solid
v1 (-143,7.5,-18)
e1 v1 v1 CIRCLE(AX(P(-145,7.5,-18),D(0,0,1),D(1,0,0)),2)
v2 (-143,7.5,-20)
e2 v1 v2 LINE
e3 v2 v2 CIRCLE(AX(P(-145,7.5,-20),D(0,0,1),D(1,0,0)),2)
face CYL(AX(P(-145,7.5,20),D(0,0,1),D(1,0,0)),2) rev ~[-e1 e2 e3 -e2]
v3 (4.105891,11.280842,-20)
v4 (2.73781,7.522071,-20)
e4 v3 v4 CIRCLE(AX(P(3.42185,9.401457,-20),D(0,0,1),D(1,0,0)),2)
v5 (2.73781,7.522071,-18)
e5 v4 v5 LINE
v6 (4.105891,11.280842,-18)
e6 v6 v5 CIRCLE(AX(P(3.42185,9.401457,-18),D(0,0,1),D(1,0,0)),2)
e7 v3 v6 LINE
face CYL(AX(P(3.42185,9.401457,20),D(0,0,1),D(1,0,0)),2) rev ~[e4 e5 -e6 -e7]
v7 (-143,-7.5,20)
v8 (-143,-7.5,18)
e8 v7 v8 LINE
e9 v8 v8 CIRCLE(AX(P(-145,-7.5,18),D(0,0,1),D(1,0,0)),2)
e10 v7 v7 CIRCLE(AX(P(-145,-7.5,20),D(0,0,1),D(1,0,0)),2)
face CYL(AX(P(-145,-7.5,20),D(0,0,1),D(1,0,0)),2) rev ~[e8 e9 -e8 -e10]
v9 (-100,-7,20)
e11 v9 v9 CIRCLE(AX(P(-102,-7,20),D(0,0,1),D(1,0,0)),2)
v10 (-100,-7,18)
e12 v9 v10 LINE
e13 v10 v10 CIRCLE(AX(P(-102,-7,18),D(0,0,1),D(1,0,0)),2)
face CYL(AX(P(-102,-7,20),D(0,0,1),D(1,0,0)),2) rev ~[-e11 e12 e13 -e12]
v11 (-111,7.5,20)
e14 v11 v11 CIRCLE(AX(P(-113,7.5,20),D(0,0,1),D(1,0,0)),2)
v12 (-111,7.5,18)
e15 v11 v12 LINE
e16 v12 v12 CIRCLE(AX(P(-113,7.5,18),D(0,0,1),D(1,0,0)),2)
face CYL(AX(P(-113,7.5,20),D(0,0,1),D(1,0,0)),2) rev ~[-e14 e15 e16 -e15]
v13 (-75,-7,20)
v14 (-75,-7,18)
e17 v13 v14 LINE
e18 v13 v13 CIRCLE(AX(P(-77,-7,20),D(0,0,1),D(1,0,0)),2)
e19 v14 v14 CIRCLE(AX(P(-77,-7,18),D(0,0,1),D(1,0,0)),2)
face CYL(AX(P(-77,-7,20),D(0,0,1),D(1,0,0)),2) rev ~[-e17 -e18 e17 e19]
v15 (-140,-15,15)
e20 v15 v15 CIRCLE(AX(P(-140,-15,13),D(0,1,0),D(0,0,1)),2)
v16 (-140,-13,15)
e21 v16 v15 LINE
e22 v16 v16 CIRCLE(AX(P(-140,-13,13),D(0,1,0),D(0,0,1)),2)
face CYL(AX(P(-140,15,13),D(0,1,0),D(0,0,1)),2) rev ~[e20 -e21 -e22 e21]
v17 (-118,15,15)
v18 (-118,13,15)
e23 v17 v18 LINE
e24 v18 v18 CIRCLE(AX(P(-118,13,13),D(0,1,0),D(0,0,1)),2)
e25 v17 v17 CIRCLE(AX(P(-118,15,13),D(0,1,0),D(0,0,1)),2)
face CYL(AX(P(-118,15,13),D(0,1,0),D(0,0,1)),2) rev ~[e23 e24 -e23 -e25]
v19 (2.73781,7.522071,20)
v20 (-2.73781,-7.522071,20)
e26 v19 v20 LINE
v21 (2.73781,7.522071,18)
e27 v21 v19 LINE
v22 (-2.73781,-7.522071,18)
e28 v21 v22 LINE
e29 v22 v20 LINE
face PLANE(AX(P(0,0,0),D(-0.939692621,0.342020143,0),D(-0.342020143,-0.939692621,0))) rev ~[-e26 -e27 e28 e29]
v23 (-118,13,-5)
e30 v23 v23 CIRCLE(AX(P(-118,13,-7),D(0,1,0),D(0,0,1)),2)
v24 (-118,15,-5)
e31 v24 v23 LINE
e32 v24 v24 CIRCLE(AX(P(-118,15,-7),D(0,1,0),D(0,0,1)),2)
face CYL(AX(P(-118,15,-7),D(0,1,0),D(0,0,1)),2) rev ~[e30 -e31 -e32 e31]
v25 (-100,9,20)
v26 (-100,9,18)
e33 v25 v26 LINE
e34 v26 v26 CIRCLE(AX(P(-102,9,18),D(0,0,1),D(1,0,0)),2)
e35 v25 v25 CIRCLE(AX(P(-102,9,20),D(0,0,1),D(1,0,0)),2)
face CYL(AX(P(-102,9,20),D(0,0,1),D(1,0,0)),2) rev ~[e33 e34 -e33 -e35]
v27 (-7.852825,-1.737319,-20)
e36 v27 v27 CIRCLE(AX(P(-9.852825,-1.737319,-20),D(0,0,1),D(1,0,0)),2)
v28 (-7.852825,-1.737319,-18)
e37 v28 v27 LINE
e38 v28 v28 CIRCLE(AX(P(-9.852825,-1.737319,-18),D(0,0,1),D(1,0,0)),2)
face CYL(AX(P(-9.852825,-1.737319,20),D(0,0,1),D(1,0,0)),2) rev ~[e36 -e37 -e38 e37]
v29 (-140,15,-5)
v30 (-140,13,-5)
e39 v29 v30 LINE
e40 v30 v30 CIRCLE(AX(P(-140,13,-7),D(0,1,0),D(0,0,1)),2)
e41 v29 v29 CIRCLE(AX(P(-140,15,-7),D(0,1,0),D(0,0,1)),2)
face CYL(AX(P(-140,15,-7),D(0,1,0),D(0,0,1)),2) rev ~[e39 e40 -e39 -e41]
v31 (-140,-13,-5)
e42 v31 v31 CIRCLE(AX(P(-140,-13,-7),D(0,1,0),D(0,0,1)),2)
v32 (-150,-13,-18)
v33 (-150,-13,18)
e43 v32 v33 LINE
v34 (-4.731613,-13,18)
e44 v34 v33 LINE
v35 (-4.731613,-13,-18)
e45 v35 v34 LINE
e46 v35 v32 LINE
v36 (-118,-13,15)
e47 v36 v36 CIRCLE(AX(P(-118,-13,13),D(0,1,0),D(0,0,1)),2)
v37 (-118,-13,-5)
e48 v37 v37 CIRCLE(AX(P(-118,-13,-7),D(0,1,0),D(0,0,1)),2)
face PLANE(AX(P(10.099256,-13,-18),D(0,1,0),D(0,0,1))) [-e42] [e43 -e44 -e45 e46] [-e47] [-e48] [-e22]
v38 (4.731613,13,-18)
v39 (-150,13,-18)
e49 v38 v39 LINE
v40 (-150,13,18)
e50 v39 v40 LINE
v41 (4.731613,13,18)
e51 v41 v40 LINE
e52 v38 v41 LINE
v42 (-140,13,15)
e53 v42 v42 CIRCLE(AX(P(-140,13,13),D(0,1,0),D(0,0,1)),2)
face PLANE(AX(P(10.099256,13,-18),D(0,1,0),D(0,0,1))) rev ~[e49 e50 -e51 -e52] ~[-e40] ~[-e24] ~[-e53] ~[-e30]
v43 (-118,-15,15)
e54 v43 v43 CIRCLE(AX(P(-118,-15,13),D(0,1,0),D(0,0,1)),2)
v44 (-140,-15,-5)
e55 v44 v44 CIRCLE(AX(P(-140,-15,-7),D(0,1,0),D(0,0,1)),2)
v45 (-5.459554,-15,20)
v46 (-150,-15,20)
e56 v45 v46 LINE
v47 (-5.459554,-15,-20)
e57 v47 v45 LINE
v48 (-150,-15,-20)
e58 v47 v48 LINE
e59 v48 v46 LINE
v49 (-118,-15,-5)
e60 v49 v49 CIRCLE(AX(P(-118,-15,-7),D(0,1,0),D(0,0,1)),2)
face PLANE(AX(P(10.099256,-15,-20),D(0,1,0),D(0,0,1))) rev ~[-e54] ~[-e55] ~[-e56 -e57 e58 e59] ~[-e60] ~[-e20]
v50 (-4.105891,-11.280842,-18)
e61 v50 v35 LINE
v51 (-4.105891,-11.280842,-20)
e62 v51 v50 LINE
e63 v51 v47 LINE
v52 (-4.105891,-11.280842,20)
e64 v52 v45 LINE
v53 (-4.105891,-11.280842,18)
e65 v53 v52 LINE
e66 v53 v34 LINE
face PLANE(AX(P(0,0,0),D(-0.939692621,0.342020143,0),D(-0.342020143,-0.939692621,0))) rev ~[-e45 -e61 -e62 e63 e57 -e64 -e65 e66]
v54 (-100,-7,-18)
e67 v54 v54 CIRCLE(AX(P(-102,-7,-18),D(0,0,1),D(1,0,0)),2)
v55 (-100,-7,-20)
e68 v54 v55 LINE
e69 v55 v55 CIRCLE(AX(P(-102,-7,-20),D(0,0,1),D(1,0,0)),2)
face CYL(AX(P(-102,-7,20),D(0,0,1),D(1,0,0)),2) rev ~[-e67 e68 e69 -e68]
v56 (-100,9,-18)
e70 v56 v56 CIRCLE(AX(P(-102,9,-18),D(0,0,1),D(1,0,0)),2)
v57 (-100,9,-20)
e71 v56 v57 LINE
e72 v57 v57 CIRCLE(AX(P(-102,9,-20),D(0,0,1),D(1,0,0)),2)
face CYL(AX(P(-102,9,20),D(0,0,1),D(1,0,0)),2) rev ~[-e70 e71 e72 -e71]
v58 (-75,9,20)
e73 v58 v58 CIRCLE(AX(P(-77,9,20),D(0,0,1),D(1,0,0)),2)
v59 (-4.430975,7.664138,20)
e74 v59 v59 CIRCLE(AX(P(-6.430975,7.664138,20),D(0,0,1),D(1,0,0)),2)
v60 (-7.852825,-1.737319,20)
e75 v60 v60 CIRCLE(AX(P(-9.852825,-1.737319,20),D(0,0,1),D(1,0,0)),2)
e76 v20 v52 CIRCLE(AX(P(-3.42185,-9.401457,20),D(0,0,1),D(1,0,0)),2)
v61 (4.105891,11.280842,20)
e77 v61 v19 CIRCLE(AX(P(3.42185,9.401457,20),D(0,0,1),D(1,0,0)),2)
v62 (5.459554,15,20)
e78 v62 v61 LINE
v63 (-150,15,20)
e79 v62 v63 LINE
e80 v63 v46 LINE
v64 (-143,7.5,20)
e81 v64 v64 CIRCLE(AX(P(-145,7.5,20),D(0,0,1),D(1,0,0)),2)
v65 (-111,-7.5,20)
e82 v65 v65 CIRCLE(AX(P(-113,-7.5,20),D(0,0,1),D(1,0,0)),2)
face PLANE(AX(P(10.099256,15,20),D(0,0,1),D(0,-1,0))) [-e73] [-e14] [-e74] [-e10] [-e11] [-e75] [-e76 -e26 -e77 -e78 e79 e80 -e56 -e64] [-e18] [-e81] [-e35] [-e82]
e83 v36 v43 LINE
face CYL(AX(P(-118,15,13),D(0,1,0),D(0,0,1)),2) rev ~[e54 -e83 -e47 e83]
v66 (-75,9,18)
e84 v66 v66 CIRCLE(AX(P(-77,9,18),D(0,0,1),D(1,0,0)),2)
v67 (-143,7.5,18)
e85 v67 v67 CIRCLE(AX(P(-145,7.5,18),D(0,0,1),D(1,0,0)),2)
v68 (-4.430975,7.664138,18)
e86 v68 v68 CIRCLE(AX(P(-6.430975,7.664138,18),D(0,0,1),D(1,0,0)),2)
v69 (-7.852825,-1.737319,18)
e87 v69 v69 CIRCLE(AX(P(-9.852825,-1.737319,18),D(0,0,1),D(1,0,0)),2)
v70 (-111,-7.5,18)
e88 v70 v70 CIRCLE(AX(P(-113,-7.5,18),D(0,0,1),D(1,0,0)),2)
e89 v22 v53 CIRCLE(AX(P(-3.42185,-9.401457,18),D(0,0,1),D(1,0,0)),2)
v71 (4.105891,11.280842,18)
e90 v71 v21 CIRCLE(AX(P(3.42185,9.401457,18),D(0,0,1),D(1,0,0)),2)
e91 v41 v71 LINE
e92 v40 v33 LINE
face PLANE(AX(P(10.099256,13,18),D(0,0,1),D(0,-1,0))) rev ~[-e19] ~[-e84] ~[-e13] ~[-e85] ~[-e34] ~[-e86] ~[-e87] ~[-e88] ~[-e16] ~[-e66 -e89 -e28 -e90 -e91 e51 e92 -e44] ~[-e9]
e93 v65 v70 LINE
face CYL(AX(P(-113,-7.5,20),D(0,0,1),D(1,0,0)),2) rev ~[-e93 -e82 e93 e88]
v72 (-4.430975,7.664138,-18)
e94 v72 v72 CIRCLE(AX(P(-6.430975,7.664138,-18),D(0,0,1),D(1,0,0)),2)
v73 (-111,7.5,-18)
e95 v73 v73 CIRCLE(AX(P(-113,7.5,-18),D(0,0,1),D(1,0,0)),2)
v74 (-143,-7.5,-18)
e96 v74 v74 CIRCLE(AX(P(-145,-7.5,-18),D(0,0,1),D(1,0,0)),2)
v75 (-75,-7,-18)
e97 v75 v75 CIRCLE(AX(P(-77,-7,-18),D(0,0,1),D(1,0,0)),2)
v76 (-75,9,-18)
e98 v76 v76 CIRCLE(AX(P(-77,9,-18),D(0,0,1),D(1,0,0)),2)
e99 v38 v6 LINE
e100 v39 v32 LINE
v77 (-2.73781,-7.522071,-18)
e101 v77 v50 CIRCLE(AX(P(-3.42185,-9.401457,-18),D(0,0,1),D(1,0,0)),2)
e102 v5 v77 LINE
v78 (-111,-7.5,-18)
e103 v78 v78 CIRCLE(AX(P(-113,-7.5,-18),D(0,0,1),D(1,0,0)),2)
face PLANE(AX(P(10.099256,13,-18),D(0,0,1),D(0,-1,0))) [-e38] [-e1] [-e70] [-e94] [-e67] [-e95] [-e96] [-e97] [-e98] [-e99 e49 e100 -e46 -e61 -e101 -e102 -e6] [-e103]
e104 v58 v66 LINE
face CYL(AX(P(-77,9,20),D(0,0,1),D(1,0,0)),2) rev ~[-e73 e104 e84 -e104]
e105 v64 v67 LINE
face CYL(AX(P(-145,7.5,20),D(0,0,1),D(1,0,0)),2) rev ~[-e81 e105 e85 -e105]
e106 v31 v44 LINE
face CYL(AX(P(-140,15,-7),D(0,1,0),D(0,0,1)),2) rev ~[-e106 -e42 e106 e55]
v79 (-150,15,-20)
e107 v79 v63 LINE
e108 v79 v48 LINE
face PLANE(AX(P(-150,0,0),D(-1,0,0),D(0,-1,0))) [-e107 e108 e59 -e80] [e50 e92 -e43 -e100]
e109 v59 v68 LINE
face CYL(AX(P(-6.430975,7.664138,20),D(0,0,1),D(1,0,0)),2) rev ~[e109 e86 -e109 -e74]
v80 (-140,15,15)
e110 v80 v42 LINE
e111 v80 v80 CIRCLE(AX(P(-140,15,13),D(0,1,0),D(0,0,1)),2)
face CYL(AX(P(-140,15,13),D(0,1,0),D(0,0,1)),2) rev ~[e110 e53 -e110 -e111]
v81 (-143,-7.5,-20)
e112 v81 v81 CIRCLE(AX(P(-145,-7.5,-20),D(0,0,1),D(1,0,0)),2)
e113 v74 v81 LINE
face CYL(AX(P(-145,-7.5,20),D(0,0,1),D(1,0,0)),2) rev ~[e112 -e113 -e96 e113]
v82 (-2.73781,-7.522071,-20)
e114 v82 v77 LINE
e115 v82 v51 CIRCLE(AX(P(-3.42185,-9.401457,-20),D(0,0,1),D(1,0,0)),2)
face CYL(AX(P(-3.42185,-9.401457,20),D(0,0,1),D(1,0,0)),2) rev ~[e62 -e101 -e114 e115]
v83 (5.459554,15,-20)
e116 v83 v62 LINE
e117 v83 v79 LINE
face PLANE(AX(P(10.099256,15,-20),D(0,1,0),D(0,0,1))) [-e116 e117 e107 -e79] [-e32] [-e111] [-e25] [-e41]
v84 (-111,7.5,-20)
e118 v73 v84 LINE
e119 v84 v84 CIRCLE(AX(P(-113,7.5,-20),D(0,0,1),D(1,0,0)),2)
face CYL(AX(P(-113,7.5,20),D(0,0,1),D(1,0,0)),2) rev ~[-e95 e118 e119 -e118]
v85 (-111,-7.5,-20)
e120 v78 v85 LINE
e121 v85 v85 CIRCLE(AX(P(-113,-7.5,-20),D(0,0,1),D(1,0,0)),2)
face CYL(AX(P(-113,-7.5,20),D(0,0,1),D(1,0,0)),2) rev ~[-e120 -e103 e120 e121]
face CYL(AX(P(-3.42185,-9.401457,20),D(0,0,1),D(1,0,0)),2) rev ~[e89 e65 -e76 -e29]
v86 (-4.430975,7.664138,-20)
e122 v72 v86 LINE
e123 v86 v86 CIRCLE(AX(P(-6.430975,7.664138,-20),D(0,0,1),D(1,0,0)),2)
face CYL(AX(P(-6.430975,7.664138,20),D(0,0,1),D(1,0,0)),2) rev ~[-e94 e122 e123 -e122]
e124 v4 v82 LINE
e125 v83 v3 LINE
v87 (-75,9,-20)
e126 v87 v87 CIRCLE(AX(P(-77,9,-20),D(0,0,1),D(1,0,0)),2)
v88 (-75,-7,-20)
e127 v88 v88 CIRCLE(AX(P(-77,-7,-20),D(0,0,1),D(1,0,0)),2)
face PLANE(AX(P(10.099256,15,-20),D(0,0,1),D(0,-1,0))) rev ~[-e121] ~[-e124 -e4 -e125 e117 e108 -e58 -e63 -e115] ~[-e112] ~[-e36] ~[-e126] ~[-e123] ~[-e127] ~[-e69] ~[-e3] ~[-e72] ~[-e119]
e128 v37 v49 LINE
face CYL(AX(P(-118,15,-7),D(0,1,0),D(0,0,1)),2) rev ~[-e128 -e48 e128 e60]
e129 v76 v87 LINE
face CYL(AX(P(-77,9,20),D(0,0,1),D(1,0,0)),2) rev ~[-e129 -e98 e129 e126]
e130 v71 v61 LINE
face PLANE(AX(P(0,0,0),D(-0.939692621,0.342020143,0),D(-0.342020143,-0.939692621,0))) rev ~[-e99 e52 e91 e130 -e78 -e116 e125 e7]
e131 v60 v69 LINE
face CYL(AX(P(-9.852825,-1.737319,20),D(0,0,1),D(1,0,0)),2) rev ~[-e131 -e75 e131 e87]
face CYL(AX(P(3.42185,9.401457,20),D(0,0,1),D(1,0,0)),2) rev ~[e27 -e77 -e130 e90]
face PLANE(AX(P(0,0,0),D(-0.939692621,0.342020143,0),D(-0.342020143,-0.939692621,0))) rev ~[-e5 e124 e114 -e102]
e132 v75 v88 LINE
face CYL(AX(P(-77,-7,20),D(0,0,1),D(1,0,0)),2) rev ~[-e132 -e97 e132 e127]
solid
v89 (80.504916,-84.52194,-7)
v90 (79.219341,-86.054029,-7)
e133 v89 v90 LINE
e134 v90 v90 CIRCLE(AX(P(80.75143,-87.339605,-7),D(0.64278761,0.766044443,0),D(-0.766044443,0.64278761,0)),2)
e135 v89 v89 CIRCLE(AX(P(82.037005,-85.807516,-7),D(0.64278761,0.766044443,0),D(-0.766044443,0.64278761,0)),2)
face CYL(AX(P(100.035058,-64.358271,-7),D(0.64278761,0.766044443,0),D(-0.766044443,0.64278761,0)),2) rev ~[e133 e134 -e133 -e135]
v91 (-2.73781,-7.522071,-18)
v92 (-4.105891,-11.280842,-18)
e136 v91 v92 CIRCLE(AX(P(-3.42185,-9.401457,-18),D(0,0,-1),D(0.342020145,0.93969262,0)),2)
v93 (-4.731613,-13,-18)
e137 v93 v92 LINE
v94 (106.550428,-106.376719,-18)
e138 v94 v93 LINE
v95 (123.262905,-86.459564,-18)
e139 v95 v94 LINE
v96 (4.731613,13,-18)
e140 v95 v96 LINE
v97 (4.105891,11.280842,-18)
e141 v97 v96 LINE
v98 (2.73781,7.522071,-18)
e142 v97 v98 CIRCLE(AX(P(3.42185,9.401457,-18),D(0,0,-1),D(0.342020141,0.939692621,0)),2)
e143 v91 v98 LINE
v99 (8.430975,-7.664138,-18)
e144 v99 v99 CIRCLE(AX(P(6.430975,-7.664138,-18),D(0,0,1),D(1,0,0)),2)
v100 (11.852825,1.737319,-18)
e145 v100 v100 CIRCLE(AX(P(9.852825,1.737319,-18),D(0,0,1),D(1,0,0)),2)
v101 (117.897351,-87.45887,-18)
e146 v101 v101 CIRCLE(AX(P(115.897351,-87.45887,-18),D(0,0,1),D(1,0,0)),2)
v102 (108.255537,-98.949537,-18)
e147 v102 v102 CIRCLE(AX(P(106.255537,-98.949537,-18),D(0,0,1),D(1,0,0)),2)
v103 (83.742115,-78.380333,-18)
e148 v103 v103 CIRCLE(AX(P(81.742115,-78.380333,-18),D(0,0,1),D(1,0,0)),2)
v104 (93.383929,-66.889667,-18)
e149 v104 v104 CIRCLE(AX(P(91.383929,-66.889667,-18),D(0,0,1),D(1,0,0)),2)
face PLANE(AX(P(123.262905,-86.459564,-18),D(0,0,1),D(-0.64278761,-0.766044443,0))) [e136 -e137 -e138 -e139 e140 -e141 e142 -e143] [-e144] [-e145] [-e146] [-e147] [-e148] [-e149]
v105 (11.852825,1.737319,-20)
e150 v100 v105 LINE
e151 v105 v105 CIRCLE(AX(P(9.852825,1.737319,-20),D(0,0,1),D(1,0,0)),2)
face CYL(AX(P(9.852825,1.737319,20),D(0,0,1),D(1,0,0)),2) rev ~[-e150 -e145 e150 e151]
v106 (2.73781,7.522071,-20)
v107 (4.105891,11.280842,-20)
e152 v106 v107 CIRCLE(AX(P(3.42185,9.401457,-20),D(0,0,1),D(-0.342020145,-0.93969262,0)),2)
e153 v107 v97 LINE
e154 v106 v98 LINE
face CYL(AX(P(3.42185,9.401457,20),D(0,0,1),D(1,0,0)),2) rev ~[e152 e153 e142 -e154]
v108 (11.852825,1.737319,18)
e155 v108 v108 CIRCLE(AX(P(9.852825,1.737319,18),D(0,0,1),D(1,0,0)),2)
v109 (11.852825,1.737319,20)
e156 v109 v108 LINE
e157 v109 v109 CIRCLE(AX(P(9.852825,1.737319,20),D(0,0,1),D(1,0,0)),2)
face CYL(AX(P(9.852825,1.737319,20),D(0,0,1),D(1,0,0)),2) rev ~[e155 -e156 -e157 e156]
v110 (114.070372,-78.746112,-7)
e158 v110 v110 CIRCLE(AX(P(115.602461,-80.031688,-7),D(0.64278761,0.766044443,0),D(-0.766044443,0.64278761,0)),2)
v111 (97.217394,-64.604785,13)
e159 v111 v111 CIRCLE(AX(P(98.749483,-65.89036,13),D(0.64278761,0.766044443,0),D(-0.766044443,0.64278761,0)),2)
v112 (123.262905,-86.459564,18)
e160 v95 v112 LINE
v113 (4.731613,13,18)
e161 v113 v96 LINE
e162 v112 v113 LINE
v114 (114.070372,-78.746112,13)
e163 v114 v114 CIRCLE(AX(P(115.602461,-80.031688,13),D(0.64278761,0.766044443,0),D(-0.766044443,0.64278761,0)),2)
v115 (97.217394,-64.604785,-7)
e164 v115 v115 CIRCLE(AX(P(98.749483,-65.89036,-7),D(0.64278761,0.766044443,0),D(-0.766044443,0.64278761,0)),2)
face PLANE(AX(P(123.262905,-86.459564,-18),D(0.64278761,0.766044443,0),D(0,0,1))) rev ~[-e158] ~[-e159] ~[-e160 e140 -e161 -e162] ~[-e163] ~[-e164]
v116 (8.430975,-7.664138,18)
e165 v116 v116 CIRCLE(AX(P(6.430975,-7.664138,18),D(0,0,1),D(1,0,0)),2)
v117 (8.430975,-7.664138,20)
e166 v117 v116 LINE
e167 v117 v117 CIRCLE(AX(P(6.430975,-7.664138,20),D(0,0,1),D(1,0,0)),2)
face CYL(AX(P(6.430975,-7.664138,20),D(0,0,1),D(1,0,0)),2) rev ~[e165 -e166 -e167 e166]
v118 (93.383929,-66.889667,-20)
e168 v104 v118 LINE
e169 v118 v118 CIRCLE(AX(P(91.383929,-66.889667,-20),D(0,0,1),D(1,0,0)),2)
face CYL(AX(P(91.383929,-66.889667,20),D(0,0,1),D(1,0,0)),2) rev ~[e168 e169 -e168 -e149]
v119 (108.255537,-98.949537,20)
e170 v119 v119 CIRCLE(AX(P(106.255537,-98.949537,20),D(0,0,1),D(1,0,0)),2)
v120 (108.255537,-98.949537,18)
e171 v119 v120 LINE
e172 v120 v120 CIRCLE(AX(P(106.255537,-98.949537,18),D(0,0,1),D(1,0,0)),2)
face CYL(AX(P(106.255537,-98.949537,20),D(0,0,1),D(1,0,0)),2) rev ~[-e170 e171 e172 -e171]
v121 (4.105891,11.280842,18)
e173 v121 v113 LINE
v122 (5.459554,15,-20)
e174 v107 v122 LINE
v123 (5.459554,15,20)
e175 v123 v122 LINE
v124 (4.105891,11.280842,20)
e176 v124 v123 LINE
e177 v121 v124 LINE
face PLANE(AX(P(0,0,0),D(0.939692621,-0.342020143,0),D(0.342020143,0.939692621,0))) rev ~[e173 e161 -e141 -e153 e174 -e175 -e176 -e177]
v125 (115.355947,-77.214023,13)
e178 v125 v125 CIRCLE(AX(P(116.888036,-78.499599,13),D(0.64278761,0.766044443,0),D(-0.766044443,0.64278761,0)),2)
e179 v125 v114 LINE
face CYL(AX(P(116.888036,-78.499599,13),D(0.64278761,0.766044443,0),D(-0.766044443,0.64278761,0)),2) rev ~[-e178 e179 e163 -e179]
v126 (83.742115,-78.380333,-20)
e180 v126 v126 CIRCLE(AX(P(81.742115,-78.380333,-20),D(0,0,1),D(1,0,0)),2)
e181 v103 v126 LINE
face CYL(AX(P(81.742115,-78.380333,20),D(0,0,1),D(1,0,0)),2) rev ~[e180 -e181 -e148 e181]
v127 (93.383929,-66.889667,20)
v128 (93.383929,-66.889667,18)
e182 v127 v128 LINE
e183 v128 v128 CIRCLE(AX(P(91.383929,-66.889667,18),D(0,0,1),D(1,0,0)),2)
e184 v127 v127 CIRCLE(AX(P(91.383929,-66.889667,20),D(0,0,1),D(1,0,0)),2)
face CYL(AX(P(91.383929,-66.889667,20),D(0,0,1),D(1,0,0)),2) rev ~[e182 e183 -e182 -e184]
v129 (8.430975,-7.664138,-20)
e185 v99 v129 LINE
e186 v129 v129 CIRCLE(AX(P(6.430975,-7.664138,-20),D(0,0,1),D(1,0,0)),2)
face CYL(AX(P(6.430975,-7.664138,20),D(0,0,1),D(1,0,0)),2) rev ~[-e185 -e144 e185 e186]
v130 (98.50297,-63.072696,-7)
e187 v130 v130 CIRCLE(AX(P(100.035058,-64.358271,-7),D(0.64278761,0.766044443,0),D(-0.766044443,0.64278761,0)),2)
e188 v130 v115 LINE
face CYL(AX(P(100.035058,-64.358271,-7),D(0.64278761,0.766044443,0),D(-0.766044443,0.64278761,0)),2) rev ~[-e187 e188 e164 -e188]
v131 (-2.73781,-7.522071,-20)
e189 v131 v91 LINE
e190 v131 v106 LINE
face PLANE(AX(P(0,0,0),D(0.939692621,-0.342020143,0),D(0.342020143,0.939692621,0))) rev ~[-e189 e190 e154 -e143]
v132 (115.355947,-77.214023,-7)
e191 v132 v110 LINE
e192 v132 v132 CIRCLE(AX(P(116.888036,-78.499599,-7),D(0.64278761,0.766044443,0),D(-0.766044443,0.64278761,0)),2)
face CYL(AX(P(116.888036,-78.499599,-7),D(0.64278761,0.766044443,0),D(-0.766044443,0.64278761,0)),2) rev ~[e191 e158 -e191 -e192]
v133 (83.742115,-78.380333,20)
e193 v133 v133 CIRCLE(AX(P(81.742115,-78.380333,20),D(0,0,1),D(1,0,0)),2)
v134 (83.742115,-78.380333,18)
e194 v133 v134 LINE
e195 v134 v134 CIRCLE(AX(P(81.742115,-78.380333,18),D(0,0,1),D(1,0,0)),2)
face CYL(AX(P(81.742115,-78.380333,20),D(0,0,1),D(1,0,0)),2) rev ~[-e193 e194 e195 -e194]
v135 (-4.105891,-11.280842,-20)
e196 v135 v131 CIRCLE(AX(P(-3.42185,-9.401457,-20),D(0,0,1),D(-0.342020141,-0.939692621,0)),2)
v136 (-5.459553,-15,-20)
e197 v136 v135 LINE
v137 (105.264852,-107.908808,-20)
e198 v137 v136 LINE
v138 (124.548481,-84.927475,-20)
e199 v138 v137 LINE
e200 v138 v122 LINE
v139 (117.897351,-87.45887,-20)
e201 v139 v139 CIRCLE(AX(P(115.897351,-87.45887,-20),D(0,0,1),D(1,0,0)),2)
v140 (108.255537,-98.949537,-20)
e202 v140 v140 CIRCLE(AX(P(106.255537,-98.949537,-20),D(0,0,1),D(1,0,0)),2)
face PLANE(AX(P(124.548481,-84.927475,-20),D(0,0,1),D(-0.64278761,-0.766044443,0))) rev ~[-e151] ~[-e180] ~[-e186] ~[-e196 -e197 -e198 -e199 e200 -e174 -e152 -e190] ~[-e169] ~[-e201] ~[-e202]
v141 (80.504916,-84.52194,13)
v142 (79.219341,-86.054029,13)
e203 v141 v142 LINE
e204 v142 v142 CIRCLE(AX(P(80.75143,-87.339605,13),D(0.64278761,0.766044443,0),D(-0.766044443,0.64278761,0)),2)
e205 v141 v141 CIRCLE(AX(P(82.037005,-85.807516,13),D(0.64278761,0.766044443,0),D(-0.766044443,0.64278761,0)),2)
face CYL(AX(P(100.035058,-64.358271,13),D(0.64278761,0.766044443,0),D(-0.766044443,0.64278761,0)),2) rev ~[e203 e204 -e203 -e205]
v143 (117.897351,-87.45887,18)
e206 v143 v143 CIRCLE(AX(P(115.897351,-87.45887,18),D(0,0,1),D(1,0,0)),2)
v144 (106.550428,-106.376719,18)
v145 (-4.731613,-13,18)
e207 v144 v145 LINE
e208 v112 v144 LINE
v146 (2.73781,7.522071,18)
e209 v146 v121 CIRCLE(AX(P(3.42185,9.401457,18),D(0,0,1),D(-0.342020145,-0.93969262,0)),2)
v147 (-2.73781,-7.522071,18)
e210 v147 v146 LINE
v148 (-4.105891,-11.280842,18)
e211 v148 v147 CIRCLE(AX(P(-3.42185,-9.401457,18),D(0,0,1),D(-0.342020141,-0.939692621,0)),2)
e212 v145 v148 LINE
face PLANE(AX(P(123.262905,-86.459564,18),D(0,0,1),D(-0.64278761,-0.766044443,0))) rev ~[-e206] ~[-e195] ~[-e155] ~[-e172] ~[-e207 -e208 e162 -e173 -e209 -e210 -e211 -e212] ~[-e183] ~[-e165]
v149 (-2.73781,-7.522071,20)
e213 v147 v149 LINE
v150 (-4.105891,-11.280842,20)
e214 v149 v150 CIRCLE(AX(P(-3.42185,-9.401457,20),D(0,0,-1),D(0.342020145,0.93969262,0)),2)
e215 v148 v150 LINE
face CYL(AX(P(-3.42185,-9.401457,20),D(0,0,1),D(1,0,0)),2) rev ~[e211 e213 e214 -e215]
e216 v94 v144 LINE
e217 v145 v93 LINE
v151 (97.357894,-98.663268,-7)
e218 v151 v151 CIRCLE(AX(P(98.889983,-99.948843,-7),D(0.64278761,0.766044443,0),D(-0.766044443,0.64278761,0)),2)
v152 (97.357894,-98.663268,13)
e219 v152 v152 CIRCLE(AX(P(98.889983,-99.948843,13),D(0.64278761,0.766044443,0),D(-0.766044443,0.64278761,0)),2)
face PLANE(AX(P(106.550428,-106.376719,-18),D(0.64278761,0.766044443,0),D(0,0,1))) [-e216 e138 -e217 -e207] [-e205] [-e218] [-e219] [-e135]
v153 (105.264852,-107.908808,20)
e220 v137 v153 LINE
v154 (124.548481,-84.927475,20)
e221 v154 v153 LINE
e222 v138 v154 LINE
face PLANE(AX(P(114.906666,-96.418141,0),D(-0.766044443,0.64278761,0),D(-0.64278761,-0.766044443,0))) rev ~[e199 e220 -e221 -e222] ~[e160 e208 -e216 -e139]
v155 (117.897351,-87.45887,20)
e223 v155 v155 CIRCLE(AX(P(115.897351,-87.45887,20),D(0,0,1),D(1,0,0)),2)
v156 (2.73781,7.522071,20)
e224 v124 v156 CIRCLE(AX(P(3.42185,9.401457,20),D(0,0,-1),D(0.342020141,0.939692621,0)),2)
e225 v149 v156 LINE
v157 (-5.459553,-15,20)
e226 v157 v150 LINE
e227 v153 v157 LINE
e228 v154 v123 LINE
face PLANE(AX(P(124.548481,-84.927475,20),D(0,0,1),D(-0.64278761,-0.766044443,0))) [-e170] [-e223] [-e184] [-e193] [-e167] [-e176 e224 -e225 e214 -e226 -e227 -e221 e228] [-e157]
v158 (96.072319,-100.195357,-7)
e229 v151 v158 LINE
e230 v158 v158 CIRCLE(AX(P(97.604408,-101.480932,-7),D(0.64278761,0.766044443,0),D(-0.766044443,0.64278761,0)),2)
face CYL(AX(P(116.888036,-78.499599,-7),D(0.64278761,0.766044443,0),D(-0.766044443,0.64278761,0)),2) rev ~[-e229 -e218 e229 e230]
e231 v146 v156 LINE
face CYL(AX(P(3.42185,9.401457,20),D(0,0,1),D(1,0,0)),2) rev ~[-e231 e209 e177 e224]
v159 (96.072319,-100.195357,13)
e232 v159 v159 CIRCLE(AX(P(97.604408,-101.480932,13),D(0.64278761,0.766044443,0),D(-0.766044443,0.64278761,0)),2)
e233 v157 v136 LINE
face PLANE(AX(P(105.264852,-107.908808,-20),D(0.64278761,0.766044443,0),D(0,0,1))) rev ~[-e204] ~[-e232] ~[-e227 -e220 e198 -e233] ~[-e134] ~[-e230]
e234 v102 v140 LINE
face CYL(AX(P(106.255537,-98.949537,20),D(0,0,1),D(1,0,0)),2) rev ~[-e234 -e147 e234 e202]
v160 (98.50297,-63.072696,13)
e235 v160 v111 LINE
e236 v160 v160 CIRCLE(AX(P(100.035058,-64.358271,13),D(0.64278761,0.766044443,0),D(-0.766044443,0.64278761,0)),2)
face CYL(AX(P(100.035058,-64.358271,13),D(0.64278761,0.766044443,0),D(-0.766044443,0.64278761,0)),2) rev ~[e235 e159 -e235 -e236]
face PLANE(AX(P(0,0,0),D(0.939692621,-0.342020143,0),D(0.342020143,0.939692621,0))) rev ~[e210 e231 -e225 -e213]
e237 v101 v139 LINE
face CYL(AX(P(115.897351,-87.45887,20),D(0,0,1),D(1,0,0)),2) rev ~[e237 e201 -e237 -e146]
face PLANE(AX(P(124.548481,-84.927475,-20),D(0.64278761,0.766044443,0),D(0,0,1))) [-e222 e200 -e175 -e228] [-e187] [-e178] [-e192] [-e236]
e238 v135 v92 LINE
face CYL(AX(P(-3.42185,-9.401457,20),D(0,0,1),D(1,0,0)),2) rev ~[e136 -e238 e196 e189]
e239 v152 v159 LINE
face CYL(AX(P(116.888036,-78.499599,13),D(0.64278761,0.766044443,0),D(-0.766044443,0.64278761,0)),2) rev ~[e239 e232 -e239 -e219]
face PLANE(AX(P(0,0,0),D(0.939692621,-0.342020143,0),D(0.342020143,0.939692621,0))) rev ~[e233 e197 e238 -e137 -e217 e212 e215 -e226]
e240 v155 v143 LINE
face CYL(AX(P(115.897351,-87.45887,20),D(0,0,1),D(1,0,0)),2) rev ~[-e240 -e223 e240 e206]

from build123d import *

# Parameters (mm, degrees)
SKETCH1_ON_SEGMENT_1_W       = 30
SKETCH1_ON_SEGMENT_1_H       = 40
SKETCH1_ON_SEGMENT_1_W_2     = 26
SKETCH1_ON_SEGMENT_1_H_2     = 36
F_20_X_20_X_2_1_DEPTH        = 160.099255857
F_20_X_20_X_2_1_2_DEPTH      = 150
F_20_X_20_X_2_1_2_DEPTH_BACK = 10.099255857
SKETCH1_W                    = 30
SKETCH1_H                    = 40
SKETCH1_W_2                  = 26
SKETCH1_H_2                  = 36
SKETCH_2_R                   = 2
CUT_EXTRUDE_1_DEPTH          = 190.061658897
SKETCH_3_R                   = 2
CUT_EXTRUDE_2_DEPTH          = 195.952750962
SKETCH_4_R                   = 2
CUT_EXTRUDE_3_DEPTH          = 201.354045112
SKETCH_5_R                   = 2
CUT_EXTRUDE_4_DEPTH          = 190.061658897
SKETCH_6_R                   = 2
CUT_EXTRUDE_5_DEPTH          = 190.061658897
SKETCH_7_R                   = 2
CUT_EXTRUDE_6_DEPTH          = 190.061658897


with BuildPart() as part:
    # Sketch1 on segment 1 (carried to segment 1) → 方形管 20 X 20 X 2(1) (new body)
    with BuildSketch(Plane(origin=(114.906666468, -96.418141453, 0), x_dir=(-0.64278761, -0.766044443, 0), z_dir=(-0.766044443, 0.64278761, 0))):
        Rectangle(SKETCH1_ON_SEGMENT_1_W, SKETCH1_ON_SEGMENT_1_H)
        Rectangle(SKETCH1_ON_SEGMENT_1_W_2, SKETCH1_ON_SEGMENT_1_H_2, mode=Mode.SUBTRACT)
    extrude(amount=F_20_X_20_X_2_1_DEPTH)

    # 方形管 20 X 20 X 2(1) mitre 1
    split(bisect_by=Plane(origin=(0, 0, 0), x_dir=(0.342020143, 0.939692621, 0), z_dir=(0.939692621, -0.342020143, 0)), keep=Keep.TOP)


with BuildPart() as body_2:
    # Sketch1 → 20 X 20 X 2_1 2 (new, two sides: drawn at the far end of the back side and taken through both)
    with BuildSketch(Plane(origin=(0, 0, 0), x_dir=(0, -1, 0), z_dir=(-1, 0, 0)).offset(-F_20_X_20_X_2_1_2_DEPTH_BACK)):
        Rectangle(SKETCH1_W, SKETCH1_H)
        Rectangle(SKETCH1_W_2, SKETCH1_H_2, mode=Mode.SUBTRACT)
    extrude(amount=F_20_X_20_X_2_1_2_DEPTH + F_20_X_20_X_2_1_2_DEPTH_BACK)

    # 20 X 20 X 2_1 2 mitre 1
    split(bisect_by=Plane(origin=(0, 0, 0), x_dir=(-0.342020143, -0.939692621, 0), z_dir=(-0.939692621, 0.342020143, 0)), keep=Keep.TOP)


with BuildPart() as cut_extrude_1_tool:
    # 草图2 → 切除-拉伸1 (new, through all)
    with BuildSketch(Plane.XY.offset(20)):
        with Locations((3.421850348, 9.401456565)):
            Circle(SKETCH_2_R)
        with Locations((9.852825392, 1.737318953)):
            Circle(SKETCH_2_R)
        with Locations((6.430975043, -7.664137612)):
            Circle(SKETCH_2_R)
        with Locations((-3.421850348, -9.401456565)):
            Circle(SKETCH_2_R)
        with Locations((-9.852825392, -1.737318953)):
            Circle(SKETCH_2_R)
        with Locations((-6.430975043, 7.664137612)):
            Circle(SKETCH_2_R)
    extrude(amount=-CUT_EXTRUDE_1_DEPTH)


with BuildPart() as part_1:
    add(part.part)

    # 切除-拉伸1: cut by cut_extrude_1_tool
    add(cut_extrude_1_tool.part, mode=Mode.SUBTRACT)

    # 草图4 → 切除-拉伸3 (cut, through all)
    with BuildSketch(Plane(origin=(9.641814145, 11.490666647, 0), x_dir=(0.7660444431189819, -0.6427876096865346, 0), z_dir=(0.6427876096865347, 0.766044443118982, 0))):
        with Locations(Location((118, -13, 0), (0, 0, 180))):
            Circle(SKETCH_4_R)
        with Locations(Location((118, 7, 0), (0, 0, 180))):
            Circle(SKETCH_4_R)
        with Locations(Location((140, 7, 0), (0, 0, 180))):
            Circle(SKETCH_4_R)
        with Locations(Location((140, -13, 0), (0, 0, 180))):
            Circle(SKETCH_4_R)
    extrude(amount=-CUT_EXTRUDE_3_DEPTH, mode=Mode.SUBTRACT)

    # 草图7 → 切除-拉伸6 (cut, through all)
    with BuildSketch(Plane.XY.offset(20)):
        with Locations((115.897351325, -87.458870081)):
            Circle(SKETCH_7_R)
        with Locations((106.25553718, -98.949536728)):
            Circle(SKETCH_7_R)
        with Locations((81.742115, -78.380333218)):
            Circle(SKETCH_7_R)
        with Locations((91.383929145, -66.889666571)):
            Circle(SKETCH_7_R)
    extrude(amount=-CUT_EXTRUDE_6_DEPTH, mode=Mode.SUBTRACT)


with BuildPart() as body_2_1:
    add(body_2.part)

    # 切除-拉伸1: cut by cut_extrude_1_tool
    add(cut_extrude_1_tool.part, mode=Mode.SUBTRACT)

    # 草图3 → 切除-拉伸2 (cut, through all)
    with BuildSketch(Plane(origin=(0, 15, 0), x_dir=(1, 0, 0), z_dir=(0, 1, 0))):
        with Locations(Location((-118, 7, 0), (0, 0, 270))):
            Circle(SKETCH_3_R)
        with Locations(Location((-118, -13, 0), (0, 0, 270))):
            Circle(SKETCH_3_R)
        with Locations(Location((-140, -13, 0), (0, 0, 270))):
            Circle(SKETCH_3_R)
        with Locations(Location((-140, 7, 0), (0, 0, 270))):
            Circle(SKETCH_3_R)
    extrude(amount=-CUT_EXTRUDE_2_DEPTH, mode=Mode.SUBTRACT)

    # 草图5 → 切除-拉伸4 (cut, through all)
    with BuildSketch(Plane.XY.offset(20)):
        with Locations((-102, 9)):
            Circle(SKETCH_5_R)
        with Locations((-77, 9)):
            Circle(SKETCH_5_R)
        with Locations((-102, -7)):
            Circle(SKETCH_5_R)
        with Locations((-77, -7)):
            Circle(SKETCH_5_R)
    extrude(amount=-CUT_EXTRUDE_4_DEPTH, mode=Mode.SUBTRACT)

    # 草图6 → 切除-拉伸5 (cut, through all)
    with BuildSketch(Plane.XY.offset(20)):
        with Locations((-145, 7.5)):
            Circle(SKETCH_6_R)
        with Locations((-113, 7.5)):
            Circle(SKETCH_6_R)
        with Locations((-113, -7.5)):
            Circle(SKETCH_6_R)
        with Locations((-145, -7.5)):
            Circle(SKETCH_6_R)
    extrude(amount=-CUT_EXTRUDE_5_DEPTH, mode=Mode.SUBTRACT)


solid = Compound([part_1.part, body_2_1.part])
